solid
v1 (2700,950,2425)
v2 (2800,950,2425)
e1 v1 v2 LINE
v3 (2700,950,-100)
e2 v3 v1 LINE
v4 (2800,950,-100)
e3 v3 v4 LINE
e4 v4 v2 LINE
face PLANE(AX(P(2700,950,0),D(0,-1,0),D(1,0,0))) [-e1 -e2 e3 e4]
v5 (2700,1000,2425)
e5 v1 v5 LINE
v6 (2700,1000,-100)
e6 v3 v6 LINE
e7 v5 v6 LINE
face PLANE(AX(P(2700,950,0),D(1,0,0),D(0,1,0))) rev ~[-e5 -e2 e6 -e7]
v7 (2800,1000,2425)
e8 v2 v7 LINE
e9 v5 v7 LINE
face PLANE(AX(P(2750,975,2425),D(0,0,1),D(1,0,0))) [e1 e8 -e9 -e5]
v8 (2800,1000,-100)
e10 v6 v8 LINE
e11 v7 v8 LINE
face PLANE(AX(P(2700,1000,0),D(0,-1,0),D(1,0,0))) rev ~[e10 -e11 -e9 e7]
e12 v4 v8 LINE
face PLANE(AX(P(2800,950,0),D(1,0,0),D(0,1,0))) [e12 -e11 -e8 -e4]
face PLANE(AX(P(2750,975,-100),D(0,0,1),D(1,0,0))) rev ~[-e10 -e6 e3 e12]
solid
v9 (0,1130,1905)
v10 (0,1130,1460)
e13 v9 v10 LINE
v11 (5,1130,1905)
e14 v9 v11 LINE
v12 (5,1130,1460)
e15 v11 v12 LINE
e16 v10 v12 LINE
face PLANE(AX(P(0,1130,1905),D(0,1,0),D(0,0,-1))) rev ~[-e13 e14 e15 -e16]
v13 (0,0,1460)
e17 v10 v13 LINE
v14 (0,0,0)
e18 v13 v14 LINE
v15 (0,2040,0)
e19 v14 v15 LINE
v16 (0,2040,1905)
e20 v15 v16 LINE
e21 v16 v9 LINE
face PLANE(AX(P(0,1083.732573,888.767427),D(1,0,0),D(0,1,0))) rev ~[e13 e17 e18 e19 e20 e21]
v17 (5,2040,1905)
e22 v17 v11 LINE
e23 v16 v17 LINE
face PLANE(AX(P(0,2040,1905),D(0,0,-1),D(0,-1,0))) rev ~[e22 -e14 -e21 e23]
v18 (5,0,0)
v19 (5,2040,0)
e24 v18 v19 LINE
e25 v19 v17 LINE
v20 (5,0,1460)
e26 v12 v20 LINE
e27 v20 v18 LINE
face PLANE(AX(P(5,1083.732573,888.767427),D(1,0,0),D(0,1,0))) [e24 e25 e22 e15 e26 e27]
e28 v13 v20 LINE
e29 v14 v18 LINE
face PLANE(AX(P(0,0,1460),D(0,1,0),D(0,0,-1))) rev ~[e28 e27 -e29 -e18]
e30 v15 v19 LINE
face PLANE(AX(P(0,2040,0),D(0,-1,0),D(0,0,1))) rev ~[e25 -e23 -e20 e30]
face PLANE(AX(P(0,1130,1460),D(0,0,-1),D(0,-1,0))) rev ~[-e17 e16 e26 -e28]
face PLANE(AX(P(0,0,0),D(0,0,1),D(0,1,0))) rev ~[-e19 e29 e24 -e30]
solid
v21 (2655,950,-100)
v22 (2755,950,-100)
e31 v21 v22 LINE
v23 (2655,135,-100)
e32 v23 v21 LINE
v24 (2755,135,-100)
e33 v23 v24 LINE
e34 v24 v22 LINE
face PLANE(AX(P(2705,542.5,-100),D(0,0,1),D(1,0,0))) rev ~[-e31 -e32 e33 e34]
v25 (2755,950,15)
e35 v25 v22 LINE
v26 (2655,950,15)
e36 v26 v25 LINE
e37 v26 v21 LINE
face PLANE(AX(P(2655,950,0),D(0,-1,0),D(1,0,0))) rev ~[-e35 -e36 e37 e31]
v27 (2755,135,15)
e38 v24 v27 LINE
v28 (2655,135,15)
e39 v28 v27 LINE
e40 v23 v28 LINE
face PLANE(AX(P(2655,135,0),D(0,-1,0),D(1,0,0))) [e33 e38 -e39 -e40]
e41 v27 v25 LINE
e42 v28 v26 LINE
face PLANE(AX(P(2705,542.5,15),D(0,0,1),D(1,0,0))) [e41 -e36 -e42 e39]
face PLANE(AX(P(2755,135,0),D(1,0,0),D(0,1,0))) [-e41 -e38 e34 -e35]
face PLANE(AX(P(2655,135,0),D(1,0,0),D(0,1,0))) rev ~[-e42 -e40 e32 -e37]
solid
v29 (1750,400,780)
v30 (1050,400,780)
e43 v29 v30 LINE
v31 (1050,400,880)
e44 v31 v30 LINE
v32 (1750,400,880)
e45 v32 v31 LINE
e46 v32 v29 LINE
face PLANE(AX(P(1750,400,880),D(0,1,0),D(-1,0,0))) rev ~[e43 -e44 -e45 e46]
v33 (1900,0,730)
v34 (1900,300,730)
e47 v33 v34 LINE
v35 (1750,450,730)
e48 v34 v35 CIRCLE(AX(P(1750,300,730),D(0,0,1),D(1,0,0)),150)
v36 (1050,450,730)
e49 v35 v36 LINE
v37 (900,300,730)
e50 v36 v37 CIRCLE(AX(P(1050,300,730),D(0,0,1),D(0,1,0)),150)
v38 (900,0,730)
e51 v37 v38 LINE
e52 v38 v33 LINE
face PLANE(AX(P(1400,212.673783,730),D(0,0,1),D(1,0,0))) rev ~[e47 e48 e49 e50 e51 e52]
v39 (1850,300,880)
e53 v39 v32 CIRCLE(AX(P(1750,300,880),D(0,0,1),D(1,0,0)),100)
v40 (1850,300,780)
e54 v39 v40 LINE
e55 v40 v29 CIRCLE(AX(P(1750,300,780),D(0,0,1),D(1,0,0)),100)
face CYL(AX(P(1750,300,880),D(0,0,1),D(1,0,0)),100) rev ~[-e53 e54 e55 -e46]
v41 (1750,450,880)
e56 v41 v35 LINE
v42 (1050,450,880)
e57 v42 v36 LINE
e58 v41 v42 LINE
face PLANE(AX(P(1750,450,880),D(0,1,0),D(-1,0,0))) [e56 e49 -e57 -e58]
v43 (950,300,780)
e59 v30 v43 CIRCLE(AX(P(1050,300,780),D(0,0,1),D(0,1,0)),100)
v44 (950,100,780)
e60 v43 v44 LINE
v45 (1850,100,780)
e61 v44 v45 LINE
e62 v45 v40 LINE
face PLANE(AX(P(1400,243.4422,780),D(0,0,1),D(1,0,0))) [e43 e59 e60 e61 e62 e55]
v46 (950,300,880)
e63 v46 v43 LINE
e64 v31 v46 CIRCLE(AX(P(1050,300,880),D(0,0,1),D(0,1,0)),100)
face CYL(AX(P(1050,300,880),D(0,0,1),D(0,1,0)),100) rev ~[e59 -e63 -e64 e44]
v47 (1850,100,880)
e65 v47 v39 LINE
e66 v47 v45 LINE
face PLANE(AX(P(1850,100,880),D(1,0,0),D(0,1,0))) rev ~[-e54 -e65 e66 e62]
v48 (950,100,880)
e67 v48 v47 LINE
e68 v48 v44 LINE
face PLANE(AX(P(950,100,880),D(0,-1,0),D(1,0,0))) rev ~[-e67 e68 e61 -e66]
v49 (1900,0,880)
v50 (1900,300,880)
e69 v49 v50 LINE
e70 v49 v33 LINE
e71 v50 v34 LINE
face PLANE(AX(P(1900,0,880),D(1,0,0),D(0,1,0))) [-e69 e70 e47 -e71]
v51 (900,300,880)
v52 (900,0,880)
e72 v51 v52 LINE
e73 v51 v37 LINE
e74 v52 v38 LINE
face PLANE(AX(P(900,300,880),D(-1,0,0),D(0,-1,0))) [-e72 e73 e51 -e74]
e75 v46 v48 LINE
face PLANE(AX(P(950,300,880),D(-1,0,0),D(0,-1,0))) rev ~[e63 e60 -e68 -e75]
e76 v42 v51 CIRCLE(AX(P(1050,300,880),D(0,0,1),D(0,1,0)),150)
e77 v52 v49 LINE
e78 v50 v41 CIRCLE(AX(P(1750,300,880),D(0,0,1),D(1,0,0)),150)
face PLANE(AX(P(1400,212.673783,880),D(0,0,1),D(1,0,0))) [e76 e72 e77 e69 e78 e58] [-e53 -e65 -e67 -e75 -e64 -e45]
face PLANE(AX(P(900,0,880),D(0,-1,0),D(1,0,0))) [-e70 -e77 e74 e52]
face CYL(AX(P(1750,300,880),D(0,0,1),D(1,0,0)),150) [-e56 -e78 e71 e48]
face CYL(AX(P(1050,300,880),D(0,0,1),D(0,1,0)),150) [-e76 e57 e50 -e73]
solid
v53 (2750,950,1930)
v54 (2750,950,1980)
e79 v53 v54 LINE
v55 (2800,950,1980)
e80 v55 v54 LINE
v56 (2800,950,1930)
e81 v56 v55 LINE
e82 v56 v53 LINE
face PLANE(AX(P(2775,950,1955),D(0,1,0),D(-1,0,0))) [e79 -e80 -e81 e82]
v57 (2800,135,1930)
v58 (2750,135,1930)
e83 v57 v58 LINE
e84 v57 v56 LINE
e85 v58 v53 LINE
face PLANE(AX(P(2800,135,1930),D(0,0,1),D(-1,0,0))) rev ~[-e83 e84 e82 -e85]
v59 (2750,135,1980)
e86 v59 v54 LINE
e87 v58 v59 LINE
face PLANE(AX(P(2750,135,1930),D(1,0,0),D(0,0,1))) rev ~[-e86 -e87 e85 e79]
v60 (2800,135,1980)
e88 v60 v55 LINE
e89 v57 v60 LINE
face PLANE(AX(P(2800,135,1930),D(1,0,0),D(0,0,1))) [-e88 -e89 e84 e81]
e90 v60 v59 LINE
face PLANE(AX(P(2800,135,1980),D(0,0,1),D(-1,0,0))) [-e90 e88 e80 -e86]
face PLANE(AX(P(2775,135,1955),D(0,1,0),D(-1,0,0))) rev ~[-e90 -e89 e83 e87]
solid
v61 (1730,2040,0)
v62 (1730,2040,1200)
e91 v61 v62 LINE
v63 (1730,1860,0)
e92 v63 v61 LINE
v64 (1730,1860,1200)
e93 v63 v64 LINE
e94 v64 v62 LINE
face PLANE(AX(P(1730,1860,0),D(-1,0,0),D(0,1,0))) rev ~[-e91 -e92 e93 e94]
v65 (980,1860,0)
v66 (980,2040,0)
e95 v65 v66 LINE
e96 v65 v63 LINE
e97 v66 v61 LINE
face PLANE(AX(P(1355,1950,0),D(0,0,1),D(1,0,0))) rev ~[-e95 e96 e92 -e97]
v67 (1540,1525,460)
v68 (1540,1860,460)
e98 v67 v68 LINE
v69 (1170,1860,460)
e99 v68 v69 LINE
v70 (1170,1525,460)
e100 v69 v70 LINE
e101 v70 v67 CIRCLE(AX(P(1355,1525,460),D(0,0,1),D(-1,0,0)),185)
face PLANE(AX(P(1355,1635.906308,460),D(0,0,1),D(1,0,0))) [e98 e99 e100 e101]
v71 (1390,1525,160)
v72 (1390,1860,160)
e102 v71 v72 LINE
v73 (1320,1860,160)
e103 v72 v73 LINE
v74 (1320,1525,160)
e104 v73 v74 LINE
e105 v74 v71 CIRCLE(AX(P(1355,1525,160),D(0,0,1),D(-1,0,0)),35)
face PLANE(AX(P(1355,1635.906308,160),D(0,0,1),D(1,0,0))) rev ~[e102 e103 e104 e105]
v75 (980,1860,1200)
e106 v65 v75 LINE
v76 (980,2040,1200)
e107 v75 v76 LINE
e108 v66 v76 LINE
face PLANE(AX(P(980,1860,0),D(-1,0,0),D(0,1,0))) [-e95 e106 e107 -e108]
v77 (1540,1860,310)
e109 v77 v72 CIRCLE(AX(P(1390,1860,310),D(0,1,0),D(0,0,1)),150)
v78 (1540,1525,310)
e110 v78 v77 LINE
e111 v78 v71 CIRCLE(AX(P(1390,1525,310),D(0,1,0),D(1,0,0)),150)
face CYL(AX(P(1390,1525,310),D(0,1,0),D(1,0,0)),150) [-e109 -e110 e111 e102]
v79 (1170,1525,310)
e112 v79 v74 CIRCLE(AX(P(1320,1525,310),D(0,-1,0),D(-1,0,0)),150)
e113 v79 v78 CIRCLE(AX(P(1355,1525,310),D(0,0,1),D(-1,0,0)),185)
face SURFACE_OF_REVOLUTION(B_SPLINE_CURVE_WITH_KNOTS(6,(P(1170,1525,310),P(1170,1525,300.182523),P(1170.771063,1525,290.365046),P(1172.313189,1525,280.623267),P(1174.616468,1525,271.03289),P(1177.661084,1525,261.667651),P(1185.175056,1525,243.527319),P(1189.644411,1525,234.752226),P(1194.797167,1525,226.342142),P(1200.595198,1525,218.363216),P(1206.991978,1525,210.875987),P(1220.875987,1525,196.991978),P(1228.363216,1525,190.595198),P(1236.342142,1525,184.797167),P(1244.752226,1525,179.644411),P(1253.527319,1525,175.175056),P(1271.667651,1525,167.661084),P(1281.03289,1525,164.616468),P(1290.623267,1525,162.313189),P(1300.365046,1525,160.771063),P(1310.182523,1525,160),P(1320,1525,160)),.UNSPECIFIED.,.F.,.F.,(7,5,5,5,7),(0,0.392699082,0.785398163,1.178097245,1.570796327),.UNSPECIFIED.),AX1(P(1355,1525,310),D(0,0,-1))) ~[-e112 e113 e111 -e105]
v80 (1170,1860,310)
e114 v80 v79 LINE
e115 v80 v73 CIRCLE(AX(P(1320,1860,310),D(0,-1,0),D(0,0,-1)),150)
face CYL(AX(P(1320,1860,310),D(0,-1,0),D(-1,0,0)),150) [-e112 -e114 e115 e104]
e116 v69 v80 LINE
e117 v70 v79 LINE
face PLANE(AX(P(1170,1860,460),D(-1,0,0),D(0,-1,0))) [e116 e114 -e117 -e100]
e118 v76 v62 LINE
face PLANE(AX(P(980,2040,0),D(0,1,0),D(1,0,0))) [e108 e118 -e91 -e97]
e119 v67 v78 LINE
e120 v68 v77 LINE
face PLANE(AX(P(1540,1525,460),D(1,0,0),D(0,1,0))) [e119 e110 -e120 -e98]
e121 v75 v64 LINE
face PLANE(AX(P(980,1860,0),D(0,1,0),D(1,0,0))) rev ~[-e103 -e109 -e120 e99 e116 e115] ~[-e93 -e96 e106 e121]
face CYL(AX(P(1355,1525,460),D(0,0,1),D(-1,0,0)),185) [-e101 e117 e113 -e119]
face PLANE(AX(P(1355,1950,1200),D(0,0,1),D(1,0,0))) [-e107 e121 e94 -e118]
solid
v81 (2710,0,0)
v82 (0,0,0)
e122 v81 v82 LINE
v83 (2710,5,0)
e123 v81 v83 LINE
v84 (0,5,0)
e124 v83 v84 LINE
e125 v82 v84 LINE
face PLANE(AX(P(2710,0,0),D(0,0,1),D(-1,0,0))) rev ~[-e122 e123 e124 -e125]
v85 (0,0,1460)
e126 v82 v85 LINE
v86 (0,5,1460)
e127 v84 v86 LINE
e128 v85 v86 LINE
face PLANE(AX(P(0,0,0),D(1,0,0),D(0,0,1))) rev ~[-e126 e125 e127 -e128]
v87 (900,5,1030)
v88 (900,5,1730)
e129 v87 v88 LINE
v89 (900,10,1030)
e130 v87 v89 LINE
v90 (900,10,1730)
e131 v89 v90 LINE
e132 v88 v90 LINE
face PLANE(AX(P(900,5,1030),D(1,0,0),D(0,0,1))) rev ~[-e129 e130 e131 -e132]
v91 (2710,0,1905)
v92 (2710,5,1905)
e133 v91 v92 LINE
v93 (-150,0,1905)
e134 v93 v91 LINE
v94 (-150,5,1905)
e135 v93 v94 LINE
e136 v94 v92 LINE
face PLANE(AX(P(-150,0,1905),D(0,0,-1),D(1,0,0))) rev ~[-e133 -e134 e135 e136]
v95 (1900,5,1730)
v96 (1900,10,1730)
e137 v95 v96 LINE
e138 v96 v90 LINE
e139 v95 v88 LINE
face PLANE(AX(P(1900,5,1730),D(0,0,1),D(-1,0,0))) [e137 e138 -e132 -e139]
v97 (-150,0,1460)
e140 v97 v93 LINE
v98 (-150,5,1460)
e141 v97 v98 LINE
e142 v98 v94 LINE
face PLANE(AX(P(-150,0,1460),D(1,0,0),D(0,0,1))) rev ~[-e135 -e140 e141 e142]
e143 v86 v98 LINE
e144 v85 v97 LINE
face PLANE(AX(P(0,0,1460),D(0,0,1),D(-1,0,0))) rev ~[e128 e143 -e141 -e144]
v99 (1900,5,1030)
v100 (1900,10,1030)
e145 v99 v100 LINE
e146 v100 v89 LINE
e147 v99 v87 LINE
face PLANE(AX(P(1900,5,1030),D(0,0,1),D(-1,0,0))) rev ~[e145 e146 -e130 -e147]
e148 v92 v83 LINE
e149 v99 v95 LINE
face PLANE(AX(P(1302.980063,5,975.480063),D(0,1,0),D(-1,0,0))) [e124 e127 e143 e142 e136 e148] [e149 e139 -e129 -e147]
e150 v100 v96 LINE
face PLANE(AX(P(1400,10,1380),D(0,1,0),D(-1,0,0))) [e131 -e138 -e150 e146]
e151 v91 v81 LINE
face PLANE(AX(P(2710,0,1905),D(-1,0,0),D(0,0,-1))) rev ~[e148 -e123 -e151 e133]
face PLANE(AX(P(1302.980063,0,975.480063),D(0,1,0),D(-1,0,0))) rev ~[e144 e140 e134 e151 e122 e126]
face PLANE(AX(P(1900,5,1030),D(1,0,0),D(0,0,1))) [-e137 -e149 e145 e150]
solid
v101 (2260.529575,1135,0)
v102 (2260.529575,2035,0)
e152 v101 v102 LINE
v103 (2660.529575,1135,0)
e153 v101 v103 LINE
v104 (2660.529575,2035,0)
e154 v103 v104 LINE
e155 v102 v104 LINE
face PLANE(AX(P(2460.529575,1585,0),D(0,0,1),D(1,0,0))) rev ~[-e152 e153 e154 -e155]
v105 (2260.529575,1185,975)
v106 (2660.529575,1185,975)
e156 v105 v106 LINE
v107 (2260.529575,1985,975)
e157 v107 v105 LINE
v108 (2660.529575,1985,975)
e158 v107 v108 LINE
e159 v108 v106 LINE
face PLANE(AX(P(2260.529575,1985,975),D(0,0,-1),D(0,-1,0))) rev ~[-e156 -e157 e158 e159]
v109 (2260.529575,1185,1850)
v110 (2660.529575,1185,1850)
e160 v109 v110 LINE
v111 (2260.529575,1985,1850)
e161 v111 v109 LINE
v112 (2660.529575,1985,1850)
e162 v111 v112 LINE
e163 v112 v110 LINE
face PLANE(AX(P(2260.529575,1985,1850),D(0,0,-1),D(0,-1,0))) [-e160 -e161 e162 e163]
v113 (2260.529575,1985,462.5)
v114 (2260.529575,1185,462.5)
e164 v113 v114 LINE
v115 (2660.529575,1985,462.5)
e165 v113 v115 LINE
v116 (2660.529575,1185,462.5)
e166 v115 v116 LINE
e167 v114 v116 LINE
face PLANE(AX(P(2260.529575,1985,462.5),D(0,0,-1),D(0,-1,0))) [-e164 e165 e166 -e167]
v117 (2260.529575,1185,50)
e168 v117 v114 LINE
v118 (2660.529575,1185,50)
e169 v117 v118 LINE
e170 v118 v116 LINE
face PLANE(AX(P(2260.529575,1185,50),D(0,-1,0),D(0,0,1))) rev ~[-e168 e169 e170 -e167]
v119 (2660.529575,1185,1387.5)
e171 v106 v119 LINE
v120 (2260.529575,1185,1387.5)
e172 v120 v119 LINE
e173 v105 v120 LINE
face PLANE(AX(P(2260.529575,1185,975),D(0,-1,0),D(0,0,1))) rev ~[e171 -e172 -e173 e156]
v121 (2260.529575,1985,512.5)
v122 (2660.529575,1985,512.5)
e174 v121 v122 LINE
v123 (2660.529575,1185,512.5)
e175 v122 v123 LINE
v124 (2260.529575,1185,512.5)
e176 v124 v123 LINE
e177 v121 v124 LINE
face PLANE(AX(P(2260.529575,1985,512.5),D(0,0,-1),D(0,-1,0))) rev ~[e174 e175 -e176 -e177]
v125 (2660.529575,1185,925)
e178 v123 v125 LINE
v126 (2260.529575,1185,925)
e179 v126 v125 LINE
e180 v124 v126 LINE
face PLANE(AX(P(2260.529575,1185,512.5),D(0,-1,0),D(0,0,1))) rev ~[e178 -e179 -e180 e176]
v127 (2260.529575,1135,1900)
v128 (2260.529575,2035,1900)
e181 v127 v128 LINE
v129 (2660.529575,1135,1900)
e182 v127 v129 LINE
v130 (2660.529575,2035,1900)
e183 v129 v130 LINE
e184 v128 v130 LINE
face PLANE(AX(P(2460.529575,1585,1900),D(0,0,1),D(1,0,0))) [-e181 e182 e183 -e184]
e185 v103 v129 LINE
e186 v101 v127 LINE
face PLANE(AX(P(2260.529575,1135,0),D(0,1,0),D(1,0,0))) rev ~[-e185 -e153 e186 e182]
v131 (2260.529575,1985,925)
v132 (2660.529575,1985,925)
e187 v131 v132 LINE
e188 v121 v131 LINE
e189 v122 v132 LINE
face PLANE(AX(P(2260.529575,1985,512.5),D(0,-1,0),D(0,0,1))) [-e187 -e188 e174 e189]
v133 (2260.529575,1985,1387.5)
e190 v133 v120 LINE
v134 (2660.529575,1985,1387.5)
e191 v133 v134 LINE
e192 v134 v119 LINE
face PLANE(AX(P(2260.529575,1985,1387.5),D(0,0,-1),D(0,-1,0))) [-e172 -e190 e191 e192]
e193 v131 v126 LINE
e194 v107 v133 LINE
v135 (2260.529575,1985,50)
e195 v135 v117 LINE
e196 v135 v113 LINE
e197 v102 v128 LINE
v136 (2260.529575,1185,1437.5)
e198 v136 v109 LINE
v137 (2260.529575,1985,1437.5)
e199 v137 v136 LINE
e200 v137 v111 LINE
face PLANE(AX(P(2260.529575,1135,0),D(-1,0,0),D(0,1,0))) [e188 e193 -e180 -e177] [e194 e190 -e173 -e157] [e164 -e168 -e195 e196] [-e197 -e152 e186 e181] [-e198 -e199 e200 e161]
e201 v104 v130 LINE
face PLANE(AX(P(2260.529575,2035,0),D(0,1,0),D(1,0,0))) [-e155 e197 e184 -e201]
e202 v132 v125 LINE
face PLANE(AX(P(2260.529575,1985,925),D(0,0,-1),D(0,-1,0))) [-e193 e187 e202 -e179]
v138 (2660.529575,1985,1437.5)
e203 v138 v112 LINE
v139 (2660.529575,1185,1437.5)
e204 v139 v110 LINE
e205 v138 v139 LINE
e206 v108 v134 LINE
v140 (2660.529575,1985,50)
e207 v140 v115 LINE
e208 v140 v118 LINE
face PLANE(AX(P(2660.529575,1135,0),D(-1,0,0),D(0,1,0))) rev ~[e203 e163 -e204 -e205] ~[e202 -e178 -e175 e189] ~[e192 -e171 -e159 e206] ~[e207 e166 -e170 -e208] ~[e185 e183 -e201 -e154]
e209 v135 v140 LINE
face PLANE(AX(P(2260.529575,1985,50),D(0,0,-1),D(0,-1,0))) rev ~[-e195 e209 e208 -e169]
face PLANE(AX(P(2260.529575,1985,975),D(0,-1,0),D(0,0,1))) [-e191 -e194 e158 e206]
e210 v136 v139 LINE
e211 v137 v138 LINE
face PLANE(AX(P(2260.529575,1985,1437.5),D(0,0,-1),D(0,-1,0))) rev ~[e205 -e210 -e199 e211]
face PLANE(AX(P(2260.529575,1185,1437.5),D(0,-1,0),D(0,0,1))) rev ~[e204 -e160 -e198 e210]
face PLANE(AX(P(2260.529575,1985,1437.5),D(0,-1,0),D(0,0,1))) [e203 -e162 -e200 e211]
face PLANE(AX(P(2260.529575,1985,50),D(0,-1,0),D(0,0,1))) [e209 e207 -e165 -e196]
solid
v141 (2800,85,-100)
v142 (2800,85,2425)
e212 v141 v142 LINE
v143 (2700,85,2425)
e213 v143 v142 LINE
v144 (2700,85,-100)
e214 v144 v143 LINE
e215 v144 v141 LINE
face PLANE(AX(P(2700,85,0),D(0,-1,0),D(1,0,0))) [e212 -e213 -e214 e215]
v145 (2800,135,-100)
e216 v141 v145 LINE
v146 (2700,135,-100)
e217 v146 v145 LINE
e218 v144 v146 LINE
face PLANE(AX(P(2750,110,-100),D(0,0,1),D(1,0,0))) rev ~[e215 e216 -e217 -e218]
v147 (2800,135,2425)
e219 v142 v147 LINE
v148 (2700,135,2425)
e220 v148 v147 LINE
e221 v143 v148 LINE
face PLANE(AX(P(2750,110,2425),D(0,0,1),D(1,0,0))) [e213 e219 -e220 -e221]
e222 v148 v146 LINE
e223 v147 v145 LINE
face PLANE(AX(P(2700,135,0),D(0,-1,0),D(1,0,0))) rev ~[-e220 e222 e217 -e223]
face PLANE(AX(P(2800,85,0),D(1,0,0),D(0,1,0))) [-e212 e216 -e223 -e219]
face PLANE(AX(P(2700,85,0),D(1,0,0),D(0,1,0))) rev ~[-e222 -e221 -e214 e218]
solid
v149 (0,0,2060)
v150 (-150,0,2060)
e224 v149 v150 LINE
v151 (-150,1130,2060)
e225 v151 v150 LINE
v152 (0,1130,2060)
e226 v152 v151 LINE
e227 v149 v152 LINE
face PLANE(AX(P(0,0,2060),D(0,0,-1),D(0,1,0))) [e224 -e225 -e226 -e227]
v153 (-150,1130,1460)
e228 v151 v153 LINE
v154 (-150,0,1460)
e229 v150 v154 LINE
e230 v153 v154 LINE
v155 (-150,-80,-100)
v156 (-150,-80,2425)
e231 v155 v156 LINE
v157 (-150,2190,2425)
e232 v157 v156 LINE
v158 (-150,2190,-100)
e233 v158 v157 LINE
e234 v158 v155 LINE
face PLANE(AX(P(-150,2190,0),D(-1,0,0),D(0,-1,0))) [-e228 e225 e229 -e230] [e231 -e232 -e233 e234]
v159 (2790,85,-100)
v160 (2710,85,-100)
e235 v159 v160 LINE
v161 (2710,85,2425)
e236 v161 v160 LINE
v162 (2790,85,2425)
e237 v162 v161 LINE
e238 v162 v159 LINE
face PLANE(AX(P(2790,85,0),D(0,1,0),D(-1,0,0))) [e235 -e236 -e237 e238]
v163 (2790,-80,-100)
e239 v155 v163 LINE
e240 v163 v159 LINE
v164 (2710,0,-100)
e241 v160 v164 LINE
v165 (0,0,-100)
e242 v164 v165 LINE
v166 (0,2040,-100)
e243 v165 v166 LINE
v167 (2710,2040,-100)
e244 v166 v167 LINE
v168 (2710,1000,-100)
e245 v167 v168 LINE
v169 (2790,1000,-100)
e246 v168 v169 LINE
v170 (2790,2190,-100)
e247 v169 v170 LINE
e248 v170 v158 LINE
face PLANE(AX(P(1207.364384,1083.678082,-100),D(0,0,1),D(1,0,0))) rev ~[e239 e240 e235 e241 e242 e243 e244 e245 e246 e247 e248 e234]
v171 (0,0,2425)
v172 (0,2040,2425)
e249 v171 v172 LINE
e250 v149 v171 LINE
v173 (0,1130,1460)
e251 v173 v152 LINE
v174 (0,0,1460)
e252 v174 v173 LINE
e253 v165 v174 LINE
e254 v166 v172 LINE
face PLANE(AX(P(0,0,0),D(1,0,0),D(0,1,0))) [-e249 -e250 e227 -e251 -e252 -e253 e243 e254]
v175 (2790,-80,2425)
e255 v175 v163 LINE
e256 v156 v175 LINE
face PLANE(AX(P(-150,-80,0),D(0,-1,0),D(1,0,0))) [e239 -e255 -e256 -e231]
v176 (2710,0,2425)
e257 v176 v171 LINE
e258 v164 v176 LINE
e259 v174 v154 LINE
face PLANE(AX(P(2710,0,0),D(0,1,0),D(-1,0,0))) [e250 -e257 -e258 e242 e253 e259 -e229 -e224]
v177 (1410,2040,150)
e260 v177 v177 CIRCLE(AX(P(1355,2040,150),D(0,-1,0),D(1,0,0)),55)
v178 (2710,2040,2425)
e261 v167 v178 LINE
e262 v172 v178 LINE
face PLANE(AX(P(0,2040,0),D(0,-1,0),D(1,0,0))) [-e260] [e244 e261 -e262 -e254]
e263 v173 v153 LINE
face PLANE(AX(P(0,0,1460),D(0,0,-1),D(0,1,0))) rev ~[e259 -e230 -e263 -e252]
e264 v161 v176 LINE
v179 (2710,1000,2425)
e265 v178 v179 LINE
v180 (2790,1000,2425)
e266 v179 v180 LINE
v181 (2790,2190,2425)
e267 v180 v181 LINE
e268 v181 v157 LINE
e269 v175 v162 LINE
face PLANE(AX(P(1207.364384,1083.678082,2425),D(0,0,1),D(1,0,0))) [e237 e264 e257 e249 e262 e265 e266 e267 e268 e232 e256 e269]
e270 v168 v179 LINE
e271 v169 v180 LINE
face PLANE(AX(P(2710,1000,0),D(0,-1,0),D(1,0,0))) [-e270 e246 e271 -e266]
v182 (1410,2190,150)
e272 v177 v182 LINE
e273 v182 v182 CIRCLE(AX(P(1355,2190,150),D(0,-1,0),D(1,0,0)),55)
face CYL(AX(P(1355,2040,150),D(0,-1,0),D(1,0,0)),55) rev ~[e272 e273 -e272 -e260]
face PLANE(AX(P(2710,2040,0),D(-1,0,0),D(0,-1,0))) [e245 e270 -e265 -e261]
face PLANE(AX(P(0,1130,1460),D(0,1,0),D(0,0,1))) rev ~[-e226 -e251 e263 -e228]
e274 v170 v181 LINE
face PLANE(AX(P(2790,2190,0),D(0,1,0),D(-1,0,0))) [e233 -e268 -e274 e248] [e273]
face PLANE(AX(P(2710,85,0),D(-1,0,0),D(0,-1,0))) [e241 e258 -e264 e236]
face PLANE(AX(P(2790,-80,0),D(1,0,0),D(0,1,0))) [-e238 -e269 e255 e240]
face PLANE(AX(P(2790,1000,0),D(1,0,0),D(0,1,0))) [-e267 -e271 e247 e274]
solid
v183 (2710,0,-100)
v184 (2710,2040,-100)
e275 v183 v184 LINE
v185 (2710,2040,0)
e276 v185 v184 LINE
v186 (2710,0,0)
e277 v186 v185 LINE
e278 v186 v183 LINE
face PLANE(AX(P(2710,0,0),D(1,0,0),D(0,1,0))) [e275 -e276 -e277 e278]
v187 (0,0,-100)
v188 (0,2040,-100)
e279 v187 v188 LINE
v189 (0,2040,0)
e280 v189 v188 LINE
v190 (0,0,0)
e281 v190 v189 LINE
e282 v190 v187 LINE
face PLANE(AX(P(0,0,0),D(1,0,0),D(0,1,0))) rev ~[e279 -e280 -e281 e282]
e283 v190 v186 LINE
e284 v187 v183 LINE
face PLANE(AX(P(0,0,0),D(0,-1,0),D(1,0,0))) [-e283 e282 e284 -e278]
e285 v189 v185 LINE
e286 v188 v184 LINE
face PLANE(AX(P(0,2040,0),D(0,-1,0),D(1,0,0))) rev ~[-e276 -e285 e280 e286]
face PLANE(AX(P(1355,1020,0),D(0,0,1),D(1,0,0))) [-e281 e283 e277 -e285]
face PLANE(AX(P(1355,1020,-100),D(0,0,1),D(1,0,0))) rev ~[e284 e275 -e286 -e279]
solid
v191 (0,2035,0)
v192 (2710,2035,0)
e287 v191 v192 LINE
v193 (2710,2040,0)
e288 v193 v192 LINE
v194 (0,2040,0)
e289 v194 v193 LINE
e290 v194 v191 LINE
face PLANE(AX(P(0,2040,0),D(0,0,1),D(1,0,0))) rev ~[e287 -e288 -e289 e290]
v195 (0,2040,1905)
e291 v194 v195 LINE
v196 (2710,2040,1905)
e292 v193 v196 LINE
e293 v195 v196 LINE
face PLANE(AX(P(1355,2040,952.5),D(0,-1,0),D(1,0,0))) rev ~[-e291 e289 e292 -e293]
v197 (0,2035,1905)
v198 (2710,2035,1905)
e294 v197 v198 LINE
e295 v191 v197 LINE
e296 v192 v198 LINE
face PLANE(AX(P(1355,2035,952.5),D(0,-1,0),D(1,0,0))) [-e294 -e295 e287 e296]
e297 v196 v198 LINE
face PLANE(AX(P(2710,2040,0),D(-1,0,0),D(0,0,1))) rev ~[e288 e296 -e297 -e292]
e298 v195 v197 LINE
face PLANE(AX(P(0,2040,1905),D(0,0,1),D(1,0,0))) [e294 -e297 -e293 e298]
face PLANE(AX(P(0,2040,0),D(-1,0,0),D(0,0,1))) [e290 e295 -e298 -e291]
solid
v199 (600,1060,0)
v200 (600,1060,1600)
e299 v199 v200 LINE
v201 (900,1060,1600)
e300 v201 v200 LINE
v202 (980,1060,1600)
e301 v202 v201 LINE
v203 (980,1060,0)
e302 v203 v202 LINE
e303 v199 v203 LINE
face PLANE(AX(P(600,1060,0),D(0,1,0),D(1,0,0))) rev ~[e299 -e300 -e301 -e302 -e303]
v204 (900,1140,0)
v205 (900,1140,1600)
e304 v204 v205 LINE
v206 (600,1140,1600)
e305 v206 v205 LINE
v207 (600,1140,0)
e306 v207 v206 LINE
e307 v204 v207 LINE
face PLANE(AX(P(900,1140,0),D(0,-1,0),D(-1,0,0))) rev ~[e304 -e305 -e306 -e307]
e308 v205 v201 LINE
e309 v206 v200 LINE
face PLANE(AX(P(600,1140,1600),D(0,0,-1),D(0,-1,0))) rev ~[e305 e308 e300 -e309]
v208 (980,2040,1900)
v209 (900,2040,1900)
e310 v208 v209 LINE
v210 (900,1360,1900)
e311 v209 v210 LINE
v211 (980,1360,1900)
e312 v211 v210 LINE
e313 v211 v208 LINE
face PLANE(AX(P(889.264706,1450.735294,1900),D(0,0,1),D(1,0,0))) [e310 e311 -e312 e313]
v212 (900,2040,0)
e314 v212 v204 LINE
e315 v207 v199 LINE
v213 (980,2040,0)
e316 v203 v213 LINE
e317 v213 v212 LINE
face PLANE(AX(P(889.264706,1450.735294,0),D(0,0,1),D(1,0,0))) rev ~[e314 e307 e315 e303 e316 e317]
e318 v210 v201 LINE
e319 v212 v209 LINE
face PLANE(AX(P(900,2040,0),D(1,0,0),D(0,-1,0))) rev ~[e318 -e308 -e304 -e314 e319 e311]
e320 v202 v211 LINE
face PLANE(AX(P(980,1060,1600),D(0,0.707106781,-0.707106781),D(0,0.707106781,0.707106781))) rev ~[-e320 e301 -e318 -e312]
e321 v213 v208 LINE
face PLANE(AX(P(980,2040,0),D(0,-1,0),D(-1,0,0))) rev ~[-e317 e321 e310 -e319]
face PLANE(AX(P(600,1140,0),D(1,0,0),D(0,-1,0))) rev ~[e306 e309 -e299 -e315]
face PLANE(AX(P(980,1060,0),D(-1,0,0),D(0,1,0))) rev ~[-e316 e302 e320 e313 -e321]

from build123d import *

# Parameters (mm, degrees)
F0_W           = 2710
F0_H           = 2040
F1_DEPTH       = 100
F3_DEPTH       = 2425
F3_DEPTH_BACK  = 100
F4_W           = 1130
F4_H           = 600
F5_DEPTH       = 150.001
F6_W           = 100
F6_H           = 50
F7_DEPTH       = 2425
F7_DEPTH_BACK  = 100
F8_W           = 50
F8_H           = 50
F9_DEPTH       = 815
F10_W          = 100
F10_H          = 815
F11_DEPTH      = 15
F11_DEPTH_BACK = 100
F14_DEPTH      = 5
F16_DEPTH      = 5
F17_W          = 2710
F17_H          = 1905
F18_DEPTH      = 5
F19_R          = 55
F20_DEPTH      = 150.001
F21_W          = 750
F21_H          = 180
F22_DEPTH      = 1200
F24_DEPTH      = 1900
F26_DEPTH      = 380
F28_DEPTH      = 300
F31_DEPTH      = 300
F32_R          = 150
F35_DEPTH      = 150
F37_DEPTH      = 100
F38_W          = 400
F38_H          = 900
F39_DEPTH      = 1900
F40_W          = 800
F40_H          = 412.5
F41_DEPTH      = 449.4704246521
F43_W          = 1000
F43_H          = 700
F44_DEPTH      = 5


with BuildPart() as f1:
    # F0 (on Top) → F1 (new body)
    with BuildSketch(Plane.XY):
        with Locations((1355, 1020)):
            Rectangle(F0_W, F0_H)
    extrude(amount=-F1_DEPTH)


with BuildPart() as f3:
    # F2 (on Top) → F3 (new body, two sides)
    with BuildSketch(Plane.XY) as f3_sk:
        Polygon((2710, 85), (2710, 0), (0, 0), (0, 2040), (2710, 2040), (2710, 1000), (2790, 1000), (2790, 2190), (-150, 2190), (-150, -80), (2790, -80), (2790, 85), align=None)
    extrude(amount=F3_DEPTH)
    extrude(f3_sk.sketch, amount=-F3_DEPTH_BACK)

    # F4 (on face) → F5 (cut, through all)
    with BuildSketch(Plane.YZ):
        with Locations((565, 1760)):
            Rectangle(F4_W, F4_H)
    extrude(amount=-F5_DEPTH, mode=Mode.SUBTRACT)

    # F19 (on face) → F20 (cut, through all)
    with BuildSketch(Plane.XZ.offset(-2040)):
        with Locations((1355, 150)):
            Circle(F19_R)
    extrude(amount=-F20_DEPTH, mode=Mode.SUBTRACT)


with BuildPart() as f7:
    # F6 (on face) → F7 (new body, two sides)
    with BuildSketch(Plane.XY) as f7_sk:
        with Locations((2750, 110)):
            Rectangle(F6_W, F6_H)
    extrude(amount=F7_DEPTH)
    extrude(f7_sk.sketch, amount=-F7_DEPTH_BACK)


with BuildPart() as f7b:
    # F6 (on face) → F7, piece 2 (new body, two sides)
    with BuildSketch(Plane.XY) as f7_2_sk:
        with Locations((2750, 975)):
            Rectangle(F6_W, F6_H)
    extrude(amount=F7_DEPTH)
    extrude(f7_2_sk.sketch, amount=-F7_DEPTH_BACK)


with BuildPart() as f9:
    # F8 (on face) → F9 (new body, through all)
    with BuildSketch(Plane(origin=(0, 135, 0), x_dir=(-1, 0, 0), z_dir=(0, 1, 0))):
        with Locations((-2775, 1955)):
            Rectangle(F8_W, F8_H)
    extrude(amount=F9_DEPTH)


with BuildPart() as f11:
    # F10 (on face) → F11 (new body, two sides)
    with BuildSketch(Plane.XY) as f11_sk:
        with Locations((2705, 542.5)):
            Rectangle(F10_W, F10_H)
    extrude(amount=F11_DEPTH)
    extrude(f11_sk.sketch, amount=-F11_DEPTH_BACK)


with BuildPart() as f14:
    # F13 (on face) → F14 (new body)
    with BuildSketch(Plane(origin=(0, 0, 0), x_dir=(-1, 0, 0), z_dir=(0, 1, 0))):
        Polygon((-2710, 1905), (-2710, 0), (0, 0), (0, 1460), (150, 1460), (150, 1905), align=None)
    extrude(amount=F14_DEPTH)

    # F43 (on face) → F44 (join)
    with BuildSketch(Plane(origin=(0, 5, 0), x_dir=(-1, 0, 0), z_dir=(0, 1, 0))):
        with Locations((-1400, 1380)):
            Rectangle(F43_W, F43_H)
    extrude(amount=F44_DEPTH)


with BuildPart() as f16:
    # F15 (on face) → F16 (new body)
    with BuildSketch(Plane.YZ):
        Polygon((2040, 1905), (1130, 1905), (1130, 1460), (0, 1460), (0, 0), (2040, 0), align=None)
    extrude(amount=F16_DEPTH)


with BuildPart() as f18:
    # F17 (on face) → F18 (new body)
    with BuildSketch(Plane.XZ.offset(-2040)):
        with Locations((1355, 952.5)):
            Rectangle(F17_W, F17_H)
    extrude(amount=F18_DEPTH)


with BuildPart() as f22:
    # F21 (on face) → F22 (new body)
    with BuildSketch(Plane.XY):
        with Locations((1355, 1950)):
            Rectangle(F21_W, F21_H)
    extrude(amount=F22_DEPTH)

    # F30 (on offset) → F31 (join)
    with BuildSketch(Plane.XY.offset(460)):
        with BuildLine():
            Line((1540, 1860), (1170, 1860))
            Line((1170, 1860), (1170, 1525))
            ThreePointArc((1170, 1525), (1355, 1340), (1540, 1525))
            Line((1540, 1525), (1540, 1860))
        make_face()
    extrude(amount=-F31_DEPTH)

    # F32
    f32_edges = [f22.edges().sort_by_distance(p)[0] for p in [
        (1540, 1692.5, 160),
        (1355, 1340, 160),
        (1170, 1692.5, 160),
    ]]
    fillet(f32_edges, radius=F32_R)


with BuildPart() as f24:
    # F23 (on face) → F24 (new body)
    with BuildSketch(Plane.XY):
        Polygon((980, 1060), (980, 2040), (900, 2040), (900, 1140), (600, 1140), (600, 1060), align=None)
    extrude(amount=F24_DEPTH)

    # F25 (on face) → F26 (cut, through all)
    with BuildSketch(Plane.YZ.offset(980)):
        Polygon((1360, 1900), (1060, 1900), (1060, 1600), align=None)
    extrude(amount=-F26_DEPTH, mode=Mode.SUBTRACT)

    # F27 (on face) → F28 (cut, through all)
    with BuildSketch(Plane(origin=(600, 0, 0), x_dir=(0, -1, 0), z_dir=(-1, 0, 0))):
        Polygon((-1140, 1600), (-1060, 1600), (-1140, 1680), align=None)
    extrude(amount=-F28_DEPTH, mode=Mode.SUBTRACT)


with BuildPart() as f35:
    # F34 (on offset) → F35 (new body)
    with BuildSketch(Plane.XY.offset(880)):
        with BuildLine():
            Line((900, 300), (900, 0))
            Line((900, 0), (1900, 0))
            Line((1900, 0), (1900, 300))
            ThreePointArc((1900, 300), (1856.066017178, 406.066017178), (1750, 450))
            Line((1750, 450), (1050, 450))
            ThreePointArc((1050, 450), (943.933982822, 406.066017178), (900, 300))
        make_face()
    extrude(amount=-F35_DEPTH)

    # F36 (on face) → F37 (cut)
    with BuildSketch(Plane.XY.offset(880)):
        with BuildLine():
            Line((950, 300), (950, 100))
            Line((950, 100), (1850, 100))
            Line((1850, 100), (1850, 300))
            ThreePointArc((1850, 300), (1820.7106781187, 370.7106781187), (1750, 400))
            Line((1750, 400), (1050, 400))
            ThreePointArc((1050, 400), (979.2893218813, 370.7106781187), (950, 300))
        make_face()
    extrude(amount=-F37_DEPTH, mode=Mode.SUBTRACT)


with BuildPart() as f39:
    # F38 (on face) → F39 (new body)
    with BuildSketch(Plane.XY):
        with Locations((2460.5295753479, 1585)):
            Rectangle(F38_W, F38_H)
    extrude(amount=F39_DEPTH)

    # F40 (on face) → F41 (cut, through all)
    with BuildSketch(Plane(origin=(2260.5295753479, 0, 0), x_dir=(0, -1, 0), z_dir=(-1, 0, 0))):
        with Locations((-1585, 1643.75)):
            Rectangle(F40_W, F40_H)
        with Locations((-1585, 1181.25)):
            Rectangle(F40_W, F40_H)
        with Locations((-1585, 718.75)):
            Rectangle(F40_W, F40_H)
        with Locations((-1585, 256.25)):
            Rectangle(F40_W, F40_H)
    extrude(amount=-F41_DEPTH, mode=Mode.SUBTRACT)


solid = Compound([f1.part, f3.part, f7.part, f7b.part, f9.part, f11.part, f14.part, f16.part, f18.part, f22.part, f24.part, f35.part, f39.part])
